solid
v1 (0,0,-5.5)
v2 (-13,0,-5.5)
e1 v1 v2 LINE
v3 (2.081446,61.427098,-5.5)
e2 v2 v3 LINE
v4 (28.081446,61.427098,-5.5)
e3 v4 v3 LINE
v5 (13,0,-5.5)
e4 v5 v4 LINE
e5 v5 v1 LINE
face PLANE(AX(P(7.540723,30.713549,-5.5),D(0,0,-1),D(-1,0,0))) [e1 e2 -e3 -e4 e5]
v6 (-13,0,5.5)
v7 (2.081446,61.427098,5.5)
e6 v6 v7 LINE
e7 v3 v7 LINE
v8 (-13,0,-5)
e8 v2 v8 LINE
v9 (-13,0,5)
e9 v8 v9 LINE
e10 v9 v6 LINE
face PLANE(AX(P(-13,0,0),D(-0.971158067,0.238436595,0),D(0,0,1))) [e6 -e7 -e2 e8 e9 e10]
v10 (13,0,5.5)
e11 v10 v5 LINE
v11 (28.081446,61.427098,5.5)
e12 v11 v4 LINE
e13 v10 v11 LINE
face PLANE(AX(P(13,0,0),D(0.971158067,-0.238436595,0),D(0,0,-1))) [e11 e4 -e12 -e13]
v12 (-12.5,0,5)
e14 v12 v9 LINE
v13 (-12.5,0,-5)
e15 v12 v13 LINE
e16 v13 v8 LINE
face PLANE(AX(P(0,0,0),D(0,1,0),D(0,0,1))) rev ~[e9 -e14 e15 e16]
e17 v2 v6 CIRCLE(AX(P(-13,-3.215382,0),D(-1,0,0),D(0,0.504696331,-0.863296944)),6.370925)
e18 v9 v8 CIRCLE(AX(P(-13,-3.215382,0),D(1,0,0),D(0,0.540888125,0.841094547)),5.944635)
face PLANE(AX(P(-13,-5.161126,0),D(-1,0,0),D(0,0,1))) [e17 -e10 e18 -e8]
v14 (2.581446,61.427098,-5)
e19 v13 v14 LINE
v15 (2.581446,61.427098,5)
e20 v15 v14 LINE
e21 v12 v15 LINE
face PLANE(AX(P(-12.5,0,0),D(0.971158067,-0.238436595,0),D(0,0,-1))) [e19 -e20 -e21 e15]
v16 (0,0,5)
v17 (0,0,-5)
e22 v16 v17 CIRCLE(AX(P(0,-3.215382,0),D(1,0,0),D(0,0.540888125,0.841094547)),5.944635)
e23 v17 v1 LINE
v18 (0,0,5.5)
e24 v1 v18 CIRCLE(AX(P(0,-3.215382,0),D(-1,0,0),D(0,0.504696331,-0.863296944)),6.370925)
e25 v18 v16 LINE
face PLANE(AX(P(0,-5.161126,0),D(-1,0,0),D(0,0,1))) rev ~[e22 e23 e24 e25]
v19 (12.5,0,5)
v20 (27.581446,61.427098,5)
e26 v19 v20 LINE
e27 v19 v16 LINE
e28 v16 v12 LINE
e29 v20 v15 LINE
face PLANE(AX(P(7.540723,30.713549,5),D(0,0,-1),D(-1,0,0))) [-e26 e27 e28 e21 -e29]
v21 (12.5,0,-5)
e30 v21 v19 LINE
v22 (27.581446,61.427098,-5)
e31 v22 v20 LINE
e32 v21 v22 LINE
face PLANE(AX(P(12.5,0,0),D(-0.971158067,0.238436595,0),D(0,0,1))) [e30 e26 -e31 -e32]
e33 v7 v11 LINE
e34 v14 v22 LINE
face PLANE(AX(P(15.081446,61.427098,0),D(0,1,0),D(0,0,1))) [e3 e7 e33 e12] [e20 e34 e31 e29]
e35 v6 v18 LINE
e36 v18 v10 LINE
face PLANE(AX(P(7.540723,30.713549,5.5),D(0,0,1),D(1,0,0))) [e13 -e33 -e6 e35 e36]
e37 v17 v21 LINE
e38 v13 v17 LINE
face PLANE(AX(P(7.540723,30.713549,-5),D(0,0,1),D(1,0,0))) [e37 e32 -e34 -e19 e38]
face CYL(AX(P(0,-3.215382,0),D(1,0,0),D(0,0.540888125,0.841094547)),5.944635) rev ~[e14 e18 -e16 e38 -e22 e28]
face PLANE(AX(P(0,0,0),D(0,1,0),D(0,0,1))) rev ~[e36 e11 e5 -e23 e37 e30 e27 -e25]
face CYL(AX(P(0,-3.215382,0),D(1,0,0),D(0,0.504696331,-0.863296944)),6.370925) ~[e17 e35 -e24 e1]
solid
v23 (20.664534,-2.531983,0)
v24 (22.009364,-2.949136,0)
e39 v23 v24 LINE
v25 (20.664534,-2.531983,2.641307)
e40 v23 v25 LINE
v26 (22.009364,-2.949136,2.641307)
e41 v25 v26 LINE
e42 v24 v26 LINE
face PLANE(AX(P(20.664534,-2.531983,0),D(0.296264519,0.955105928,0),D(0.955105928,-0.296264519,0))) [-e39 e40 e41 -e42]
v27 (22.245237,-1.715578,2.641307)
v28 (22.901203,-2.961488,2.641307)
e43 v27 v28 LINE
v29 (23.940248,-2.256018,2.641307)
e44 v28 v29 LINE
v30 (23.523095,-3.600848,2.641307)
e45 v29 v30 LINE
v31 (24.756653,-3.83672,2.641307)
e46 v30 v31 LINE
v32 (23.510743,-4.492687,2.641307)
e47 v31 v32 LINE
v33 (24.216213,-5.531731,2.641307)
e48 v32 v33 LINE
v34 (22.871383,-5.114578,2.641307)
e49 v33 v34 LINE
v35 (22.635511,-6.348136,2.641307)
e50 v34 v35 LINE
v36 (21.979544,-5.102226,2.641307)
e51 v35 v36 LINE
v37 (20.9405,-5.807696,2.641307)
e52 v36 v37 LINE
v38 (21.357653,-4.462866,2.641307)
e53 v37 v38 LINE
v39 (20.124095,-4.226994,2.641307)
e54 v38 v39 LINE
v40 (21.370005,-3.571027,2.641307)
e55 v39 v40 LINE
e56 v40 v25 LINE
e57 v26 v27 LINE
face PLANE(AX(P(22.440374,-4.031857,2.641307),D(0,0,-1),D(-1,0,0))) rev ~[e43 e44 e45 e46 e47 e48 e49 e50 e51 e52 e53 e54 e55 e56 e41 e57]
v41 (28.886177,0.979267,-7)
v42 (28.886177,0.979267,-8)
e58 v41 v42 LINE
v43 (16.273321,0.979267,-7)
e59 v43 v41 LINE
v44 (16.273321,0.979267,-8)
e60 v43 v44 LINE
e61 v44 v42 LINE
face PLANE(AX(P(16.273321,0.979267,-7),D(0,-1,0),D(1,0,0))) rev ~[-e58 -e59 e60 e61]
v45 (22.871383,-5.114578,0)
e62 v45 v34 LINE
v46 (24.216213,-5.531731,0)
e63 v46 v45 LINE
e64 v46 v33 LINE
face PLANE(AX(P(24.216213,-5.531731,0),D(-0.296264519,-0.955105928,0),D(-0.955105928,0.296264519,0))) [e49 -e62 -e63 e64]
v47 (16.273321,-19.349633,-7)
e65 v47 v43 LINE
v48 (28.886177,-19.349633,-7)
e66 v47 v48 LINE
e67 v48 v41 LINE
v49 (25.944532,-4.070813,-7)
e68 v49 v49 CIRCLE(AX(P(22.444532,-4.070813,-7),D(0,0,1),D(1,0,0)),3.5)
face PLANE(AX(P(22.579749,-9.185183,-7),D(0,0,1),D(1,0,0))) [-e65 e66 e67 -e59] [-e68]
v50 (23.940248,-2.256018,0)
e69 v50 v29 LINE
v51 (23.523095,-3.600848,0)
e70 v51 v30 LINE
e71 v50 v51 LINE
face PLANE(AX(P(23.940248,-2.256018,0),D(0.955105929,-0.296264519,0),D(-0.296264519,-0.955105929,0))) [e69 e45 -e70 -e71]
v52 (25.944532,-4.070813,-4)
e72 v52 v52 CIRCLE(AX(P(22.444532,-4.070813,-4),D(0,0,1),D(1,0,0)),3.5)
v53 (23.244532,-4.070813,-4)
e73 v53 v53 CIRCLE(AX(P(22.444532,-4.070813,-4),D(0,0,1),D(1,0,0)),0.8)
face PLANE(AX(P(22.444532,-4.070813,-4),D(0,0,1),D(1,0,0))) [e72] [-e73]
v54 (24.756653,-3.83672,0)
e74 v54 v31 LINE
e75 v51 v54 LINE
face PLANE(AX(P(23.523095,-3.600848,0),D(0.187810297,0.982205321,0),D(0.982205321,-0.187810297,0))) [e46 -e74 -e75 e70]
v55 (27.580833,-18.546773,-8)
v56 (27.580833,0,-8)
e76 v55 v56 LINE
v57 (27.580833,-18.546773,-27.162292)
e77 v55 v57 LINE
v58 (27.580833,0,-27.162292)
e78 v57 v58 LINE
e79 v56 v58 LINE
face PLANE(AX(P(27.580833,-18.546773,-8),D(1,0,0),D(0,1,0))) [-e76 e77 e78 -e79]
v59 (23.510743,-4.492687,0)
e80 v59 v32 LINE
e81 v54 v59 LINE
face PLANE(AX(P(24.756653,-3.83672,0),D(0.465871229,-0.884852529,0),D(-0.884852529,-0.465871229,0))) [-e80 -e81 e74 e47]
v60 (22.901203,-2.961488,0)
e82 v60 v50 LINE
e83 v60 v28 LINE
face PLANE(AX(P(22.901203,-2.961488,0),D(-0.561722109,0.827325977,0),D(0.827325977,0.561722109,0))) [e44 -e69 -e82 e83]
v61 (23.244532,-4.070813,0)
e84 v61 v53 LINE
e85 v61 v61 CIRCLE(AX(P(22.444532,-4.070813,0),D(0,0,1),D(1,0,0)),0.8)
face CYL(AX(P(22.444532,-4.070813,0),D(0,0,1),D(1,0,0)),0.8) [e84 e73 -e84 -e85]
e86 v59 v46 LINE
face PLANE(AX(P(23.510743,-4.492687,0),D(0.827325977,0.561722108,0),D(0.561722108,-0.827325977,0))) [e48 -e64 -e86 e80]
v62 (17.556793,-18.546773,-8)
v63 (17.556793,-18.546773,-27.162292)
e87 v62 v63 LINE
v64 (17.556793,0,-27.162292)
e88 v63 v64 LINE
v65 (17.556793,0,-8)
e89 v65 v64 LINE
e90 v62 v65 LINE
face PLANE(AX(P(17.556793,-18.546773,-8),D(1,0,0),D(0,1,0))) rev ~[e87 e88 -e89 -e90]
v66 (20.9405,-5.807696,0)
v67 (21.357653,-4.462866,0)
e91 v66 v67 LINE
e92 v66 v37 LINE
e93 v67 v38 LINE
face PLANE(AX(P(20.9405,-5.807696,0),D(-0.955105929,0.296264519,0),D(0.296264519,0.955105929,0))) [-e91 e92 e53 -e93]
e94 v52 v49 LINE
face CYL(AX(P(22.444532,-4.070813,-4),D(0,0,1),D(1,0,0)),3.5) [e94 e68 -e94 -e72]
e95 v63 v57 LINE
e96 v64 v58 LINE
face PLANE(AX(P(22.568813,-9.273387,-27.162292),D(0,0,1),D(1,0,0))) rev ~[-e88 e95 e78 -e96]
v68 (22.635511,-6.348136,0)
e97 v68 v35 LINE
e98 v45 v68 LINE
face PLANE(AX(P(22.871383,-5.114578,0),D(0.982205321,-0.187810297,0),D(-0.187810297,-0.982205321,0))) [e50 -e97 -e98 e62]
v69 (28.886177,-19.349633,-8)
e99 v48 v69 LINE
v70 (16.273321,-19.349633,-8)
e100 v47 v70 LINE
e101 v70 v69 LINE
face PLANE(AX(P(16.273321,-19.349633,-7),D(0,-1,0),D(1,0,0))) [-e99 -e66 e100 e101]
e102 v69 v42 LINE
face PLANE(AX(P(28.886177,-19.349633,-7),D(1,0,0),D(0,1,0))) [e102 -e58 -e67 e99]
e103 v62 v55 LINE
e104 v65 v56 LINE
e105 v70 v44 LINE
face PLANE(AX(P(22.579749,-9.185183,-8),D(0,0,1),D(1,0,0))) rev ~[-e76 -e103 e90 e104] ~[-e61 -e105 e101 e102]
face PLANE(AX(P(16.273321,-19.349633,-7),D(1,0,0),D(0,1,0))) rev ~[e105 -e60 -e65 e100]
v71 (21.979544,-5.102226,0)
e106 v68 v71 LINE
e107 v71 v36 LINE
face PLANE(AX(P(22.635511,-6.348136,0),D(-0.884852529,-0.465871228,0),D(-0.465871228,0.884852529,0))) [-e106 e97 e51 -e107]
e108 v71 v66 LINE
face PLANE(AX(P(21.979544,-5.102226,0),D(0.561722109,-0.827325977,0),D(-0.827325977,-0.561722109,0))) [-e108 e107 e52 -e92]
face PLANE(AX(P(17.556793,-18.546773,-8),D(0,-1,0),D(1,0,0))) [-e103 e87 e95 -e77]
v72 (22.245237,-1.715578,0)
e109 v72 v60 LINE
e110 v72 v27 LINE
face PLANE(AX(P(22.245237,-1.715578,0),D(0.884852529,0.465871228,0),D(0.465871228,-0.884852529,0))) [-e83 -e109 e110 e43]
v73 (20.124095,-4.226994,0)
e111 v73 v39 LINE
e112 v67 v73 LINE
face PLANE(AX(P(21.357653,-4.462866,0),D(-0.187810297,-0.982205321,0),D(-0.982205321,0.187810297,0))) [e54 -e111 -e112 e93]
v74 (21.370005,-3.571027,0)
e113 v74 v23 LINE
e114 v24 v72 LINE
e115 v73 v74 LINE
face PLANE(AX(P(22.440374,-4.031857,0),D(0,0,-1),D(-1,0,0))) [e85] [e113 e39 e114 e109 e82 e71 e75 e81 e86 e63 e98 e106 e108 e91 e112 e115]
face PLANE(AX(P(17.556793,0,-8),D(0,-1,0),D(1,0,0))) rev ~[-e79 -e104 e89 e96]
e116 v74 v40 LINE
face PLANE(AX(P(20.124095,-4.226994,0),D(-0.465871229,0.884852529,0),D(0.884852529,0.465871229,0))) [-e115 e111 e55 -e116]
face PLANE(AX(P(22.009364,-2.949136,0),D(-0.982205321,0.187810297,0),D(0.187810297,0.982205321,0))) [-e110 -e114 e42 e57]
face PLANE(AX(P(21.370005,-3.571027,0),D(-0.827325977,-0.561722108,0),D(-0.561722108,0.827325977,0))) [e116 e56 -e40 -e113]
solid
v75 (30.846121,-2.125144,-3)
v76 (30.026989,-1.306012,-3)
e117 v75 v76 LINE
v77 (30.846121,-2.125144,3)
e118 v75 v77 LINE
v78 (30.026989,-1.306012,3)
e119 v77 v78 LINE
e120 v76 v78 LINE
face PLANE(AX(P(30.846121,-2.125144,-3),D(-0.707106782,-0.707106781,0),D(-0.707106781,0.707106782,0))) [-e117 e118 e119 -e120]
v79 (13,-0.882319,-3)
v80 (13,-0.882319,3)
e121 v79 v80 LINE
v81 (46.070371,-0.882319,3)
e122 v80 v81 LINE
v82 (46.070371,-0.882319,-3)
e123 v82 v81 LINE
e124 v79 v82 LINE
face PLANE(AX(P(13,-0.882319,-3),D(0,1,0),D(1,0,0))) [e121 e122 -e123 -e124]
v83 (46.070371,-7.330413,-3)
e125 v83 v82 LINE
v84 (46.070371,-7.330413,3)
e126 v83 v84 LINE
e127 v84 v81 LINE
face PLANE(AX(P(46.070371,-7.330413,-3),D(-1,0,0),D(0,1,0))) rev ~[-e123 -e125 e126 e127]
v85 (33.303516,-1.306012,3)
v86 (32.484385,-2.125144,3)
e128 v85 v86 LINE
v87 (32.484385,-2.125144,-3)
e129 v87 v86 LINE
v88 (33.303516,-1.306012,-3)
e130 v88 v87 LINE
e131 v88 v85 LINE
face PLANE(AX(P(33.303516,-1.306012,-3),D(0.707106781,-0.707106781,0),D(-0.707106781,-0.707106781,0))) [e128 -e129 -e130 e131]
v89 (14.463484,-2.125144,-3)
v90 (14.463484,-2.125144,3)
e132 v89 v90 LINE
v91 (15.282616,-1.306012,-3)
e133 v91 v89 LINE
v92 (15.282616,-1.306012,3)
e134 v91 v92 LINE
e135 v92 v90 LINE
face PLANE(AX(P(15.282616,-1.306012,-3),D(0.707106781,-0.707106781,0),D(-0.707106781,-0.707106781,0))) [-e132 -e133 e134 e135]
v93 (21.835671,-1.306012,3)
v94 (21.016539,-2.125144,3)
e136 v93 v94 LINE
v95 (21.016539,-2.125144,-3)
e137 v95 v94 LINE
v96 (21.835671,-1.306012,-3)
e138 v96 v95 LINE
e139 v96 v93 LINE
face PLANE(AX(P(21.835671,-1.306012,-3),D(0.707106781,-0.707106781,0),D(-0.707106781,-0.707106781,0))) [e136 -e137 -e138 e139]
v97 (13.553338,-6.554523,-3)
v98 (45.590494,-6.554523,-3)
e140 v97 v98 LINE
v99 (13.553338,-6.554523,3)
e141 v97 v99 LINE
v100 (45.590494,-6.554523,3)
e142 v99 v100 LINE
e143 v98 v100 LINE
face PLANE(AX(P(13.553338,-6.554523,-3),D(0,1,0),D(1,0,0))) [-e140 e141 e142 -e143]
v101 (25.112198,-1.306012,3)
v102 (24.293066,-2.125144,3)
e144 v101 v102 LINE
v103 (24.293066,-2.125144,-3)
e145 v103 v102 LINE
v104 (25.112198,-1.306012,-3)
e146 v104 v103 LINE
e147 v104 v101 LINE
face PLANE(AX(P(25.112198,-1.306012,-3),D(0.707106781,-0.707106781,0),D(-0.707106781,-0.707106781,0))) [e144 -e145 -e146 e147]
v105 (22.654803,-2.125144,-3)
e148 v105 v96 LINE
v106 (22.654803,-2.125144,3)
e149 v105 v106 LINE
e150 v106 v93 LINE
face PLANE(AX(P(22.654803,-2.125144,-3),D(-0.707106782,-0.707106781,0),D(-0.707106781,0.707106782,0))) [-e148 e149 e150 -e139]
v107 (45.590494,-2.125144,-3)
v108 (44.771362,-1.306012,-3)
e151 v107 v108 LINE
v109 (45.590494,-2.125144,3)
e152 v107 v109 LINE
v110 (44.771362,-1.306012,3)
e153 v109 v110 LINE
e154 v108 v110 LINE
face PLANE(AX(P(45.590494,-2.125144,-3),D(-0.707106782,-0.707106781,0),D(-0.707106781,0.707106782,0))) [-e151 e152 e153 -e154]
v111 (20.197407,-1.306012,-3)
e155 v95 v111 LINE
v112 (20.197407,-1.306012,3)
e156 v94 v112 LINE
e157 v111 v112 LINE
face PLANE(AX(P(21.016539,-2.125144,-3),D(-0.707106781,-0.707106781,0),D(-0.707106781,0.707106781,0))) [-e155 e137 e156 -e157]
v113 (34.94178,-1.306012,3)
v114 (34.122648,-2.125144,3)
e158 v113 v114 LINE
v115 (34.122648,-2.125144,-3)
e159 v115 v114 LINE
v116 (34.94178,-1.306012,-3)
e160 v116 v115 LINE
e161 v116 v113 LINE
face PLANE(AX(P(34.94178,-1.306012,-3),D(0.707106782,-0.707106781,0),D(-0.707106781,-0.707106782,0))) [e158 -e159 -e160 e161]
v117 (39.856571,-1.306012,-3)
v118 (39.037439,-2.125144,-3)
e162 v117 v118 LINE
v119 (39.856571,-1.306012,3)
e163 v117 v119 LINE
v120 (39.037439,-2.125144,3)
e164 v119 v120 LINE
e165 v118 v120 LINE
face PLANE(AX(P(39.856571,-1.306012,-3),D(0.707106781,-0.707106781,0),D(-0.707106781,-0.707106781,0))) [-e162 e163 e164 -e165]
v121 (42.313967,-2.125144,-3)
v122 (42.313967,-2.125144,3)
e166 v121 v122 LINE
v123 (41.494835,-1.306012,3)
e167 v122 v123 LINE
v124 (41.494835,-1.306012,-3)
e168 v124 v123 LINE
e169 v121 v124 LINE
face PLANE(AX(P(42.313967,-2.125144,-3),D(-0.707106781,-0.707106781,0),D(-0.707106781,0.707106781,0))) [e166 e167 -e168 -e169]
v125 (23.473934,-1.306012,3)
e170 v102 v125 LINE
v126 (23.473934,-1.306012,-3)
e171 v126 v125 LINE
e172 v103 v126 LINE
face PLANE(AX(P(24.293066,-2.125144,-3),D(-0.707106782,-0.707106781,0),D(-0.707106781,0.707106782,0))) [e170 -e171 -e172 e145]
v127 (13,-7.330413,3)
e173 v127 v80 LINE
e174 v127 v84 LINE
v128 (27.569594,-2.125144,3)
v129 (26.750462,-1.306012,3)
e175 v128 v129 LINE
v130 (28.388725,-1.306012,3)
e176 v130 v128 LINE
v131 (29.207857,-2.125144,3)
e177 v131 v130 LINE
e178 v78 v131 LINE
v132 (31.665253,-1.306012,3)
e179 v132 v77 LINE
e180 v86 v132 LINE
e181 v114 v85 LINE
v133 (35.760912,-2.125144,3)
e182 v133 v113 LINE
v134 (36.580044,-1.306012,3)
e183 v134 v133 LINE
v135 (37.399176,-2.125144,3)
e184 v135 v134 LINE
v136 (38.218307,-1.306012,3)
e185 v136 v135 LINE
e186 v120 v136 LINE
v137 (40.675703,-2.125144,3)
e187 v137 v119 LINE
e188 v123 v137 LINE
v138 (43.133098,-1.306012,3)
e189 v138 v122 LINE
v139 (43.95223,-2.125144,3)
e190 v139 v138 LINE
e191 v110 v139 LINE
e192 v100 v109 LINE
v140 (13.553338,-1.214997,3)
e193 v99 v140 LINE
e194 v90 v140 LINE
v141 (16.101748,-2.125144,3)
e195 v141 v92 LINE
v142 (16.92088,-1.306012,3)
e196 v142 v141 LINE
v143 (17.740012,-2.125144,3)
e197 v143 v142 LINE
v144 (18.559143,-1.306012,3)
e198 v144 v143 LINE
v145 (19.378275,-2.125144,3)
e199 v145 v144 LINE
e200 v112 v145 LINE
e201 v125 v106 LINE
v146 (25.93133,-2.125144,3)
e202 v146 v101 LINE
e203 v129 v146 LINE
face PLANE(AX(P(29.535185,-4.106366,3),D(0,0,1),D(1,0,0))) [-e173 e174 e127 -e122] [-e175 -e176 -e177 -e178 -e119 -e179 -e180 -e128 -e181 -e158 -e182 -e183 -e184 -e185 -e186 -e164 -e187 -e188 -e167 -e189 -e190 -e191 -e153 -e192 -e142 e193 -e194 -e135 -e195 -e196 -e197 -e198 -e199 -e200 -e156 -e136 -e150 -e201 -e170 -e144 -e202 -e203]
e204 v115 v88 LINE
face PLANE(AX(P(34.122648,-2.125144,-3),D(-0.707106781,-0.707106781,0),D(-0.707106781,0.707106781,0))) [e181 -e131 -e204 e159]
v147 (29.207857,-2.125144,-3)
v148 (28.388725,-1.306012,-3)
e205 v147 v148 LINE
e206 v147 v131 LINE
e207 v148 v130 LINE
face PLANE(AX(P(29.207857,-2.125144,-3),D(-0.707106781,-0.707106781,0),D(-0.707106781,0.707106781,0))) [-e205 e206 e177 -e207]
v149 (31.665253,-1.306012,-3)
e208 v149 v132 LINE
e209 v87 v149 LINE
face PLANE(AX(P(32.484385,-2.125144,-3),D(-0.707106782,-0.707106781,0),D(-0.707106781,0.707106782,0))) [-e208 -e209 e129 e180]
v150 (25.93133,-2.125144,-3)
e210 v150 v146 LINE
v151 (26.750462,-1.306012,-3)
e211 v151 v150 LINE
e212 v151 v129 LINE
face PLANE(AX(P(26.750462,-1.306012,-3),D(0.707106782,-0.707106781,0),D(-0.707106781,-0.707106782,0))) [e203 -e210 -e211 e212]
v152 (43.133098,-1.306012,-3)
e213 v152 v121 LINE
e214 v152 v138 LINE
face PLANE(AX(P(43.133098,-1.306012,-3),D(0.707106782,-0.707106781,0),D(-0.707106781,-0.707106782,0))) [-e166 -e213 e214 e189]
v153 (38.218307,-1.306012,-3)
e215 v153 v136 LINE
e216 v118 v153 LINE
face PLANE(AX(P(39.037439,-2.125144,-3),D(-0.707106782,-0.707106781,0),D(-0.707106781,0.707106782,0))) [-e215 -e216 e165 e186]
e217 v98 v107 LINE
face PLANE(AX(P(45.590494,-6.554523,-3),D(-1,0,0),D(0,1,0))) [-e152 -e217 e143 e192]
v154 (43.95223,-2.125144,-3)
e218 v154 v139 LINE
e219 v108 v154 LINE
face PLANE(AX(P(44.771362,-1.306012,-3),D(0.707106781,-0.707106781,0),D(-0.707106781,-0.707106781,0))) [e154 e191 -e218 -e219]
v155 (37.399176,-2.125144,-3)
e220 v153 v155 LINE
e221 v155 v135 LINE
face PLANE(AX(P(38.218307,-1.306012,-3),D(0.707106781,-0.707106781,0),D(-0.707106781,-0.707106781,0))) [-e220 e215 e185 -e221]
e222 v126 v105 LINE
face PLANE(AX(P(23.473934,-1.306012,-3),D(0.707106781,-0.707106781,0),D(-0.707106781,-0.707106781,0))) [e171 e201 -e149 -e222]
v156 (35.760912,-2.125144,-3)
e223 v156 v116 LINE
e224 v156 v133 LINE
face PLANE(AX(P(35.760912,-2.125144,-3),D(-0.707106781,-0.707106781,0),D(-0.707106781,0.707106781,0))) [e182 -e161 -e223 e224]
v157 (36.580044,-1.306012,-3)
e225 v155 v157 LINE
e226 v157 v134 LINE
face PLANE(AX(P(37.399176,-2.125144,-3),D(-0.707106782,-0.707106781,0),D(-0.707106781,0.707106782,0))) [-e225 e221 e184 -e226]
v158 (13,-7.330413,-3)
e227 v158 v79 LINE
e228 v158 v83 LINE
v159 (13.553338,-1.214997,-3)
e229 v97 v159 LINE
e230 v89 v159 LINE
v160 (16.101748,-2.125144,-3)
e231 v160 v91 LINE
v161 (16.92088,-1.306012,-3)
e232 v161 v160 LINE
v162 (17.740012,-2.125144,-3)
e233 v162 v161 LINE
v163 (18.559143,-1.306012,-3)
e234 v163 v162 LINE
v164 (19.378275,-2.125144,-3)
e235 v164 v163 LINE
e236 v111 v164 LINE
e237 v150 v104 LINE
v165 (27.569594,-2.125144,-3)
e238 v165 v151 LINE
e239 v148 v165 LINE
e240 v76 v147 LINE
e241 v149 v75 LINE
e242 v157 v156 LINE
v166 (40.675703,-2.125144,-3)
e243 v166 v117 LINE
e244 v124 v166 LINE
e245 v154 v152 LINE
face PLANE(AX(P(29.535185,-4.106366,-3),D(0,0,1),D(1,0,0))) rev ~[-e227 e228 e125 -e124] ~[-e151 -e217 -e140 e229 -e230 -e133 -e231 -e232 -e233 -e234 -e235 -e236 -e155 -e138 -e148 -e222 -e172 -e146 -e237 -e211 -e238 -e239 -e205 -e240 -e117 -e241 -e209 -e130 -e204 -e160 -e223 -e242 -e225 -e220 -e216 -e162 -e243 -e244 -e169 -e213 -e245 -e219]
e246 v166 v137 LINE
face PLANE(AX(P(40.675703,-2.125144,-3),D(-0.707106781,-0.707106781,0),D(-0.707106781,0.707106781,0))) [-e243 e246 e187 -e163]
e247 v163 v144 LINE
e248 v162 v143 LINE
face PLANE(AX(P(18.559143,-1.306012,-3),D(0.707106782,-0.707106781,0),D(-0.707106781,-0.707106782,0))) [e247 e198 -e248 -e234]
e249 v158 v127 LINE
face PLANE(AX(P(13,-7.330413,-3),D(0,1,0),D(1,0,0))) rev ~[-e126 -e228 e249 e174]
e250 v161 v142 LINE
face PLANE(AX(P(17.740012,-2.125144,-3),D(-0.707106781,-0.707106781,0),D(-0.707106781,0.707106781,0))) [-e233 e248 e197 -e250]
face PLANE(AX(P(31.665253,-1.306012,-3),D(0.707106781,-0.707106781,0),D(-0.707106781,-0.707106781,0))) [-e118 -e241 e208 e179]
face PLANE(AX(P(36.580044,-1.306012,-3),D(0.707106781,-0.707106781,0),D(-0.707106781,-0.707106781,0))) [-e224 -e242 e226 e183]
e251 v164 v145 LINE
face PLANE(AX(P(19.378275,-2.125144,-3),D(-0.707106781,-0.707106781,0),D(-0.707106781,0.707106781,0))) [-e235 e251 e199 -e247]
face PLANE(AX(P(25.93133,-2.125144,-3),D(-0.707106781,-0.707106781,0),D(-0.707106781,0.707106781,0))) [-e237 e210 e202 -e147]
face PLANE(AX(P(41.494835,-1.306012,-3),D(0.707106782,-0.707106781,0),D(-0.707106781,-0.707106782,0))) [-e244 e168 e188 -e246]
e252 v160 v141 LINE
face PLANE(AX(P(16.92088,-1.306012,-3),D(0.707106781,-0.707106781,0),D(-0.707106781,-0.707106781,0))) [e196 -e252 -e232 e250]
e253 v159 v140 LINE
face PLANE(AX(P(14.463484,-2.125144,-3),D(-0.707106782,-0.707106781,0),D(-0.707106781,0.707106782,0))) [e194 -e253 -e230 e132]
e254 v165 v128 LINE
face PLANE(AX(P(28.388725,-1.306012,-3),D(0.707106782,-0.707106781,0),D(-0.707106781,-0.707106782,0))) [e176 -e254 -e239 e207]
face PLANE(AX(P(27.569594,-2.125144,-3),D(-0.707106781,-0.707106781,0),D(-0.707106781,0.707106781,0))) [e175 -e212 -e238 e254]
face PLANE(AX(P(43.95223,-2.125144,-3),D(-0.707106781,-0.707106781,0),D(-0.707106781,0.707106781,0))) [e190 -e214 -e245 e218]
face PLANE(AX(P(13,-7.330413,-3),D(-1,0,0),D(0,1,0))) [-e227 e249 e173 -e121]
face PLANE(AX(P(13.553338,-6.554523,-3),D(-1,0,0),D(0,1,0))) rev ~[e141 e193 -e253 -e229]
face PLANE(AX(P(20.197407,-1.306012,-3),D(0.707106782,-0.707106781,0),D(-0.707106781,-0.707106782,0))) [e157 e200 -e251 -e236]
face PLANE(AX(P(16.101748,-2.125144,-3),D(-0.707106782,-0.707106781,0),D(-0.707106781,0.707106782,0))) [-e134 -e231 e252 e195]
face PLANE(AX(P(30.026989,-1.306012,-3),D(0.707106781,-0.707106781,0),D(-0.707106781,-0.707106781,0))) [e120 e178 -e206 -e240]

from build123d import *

# Parameters (mm, degrees)
SKETCH_1_W           = 26
SKETCH_1_H           = 11
SKETCH_1_W_2         = 25
SKETCH_1_H_2         = 10
EXTRUDE_1_DEPTH      = 13
EXTRUDE_3_DEPTH      = 3
EXTRUDE_3_DEPTH_BACK = 3
SKETCH_6_W           = 33.070370948
SKETCH_6_H           = 6.448093374
EXTRUDE_11_DEPTH     = 2.641307104
SKETCH_9_R           = 0.8
EXTRUDE_12_DEPTH     = 4
EXTRUDE_START        = -4
SKETCH_10_R          = 3.5
EXTRUDE_13_DEPTH     = 3
EXTRUDE_START_2      = -7
SKETCH_11_W          = 12.612855994
SKETCH_11_H          = 20.328900567
EXTRUDE_14_DEPTH     = 1
EXTRUDE_START_3      = -8
SKETCH_12_W          = 10.024040608
SKETCH_12_H          = 18.546773162
EXTRUDE_15_DEPTH     = 19.16229195


with BuildPart() as part:
    # 扫描1: sweep along a path in 草图2
    with BuildLine(Plane.XY) as sweep_1_path:
        Line((0, 0), (15.081446117, 61.427097956))
    # 草图1 → 扫描1 (sweep)
    with BuildSketch(Plane(origin=(0, 0, 0), x_dir=(1, 0, 0), z_dir=(0, 1, 0))):
        Rectangle(SKETCH_1_W, SKETCH_1_H)
        Rectangle(SKETCH_1_W_2, SKETCH_1_H_2, mode=Mode.SUBTRACT)
    sweep(path=sweep_1_path.line)

    # 草图3 → 凸台-拉伸1 (add)
    with BuildSketch(Plane(origin=(0, 0, 0), x_dir=(0, 0, -1), z_dir=(1, 0, 0))):
        with BuildLine():
            Line((-5.5, 0), (-5, 0))
            ThreePointArc((-5, 0), (0, -9.160017332), (5, 0))
            Line((5, 0), (5.5, 0))
            ThreePointArc((5.5, 0), (0, -9.586307333), (-5.5, 0))
        make_face()
    extrude(amount=-EXTRUDE_1_DEPTH)


with BuildPart() as body_2:
    # 草图6 → 凸台-拉伸3 (new, two sides: drawn at the far end of the back side and taken through both)
    with BuildSketch(Plane.XY.offset(-EXTRUDE_3_DEPTH_BACK)):
        with Locations((29.535185474, -4.106366023)):
            Rectangle(SKETCH_6_W, SKETCH_6_H)
        Polygon((13.553337787, -2.125143793), (13.553337787, -6.554523321), (45.590493828, -6.554523321), (45.590493828, -2.125143793), (44.771361998, -1.306011962), (43.952230167, -2.125143793), (43.133098336, -1.306011962), (42.313966506, -2.125143793), (41.494834675, -1.306011962), (40.675702845, -2.125143793), (39.856571014, -1.306011962), (39.037439183, -2.125143793), (38.218307353, -1.306011962), (37.399175522, -2.125143793), (36.580043692, -1.306011962), (35.760911861, -2.125143793), (34.94178003, -1.306011962), (34.1226482, -2.125143793), (33.303516369, -1.306011962), (32.484384538, -2.125143793), (31.665252708, -1.306011962), (30.846120877, -2.125143793), (30.026989047, -1.306011962), (29.207857216, -2.125143793), (28.388725385, -1.306011962), (27.569593555, -2.125143793), (26.750461724, -1.306011962), (25.931329894, -2.125143793), (25.112198063, -1.306011962), (24.293066232, -2.125143793), (23.473934402, -1.306011962), (22.654802571, -2.125143793), (21.835670741, -1.306011962), (21.01653891, -2.125143793), (20.197407079, -1.306011962), (19.378275249, -2.125143793), (18.559143418, -1.306011962), (17.740011588, -2.125143793), (16.920879757, -1.306011962), (16.101747926, -2.125143793), (15.282616096, -1.306011962), (14.463484265, -2.125143793), (13.553337787, -1.214997314), align=None, mode=Mode.SUBTRACT)
    extrude(amount=EXTRUDE_3_DEPTH + EXTRUDE_3_DEPTH_BACK)


with BuildPart() as body_3:
    # 草图7 → 凸台-拉伸11 (new body)
    with BuildSketch(Plane.XY):
        Polygon((22.245236656, -1.715577878), (22.901203318, -2.961488175), (23.940247657, -2.256017546), (23.523094513, -3.600847641), (24.756652876, -3.836719874), (23.510742579, -4.492686537), (24.216213207, -5.531730876), (22.871383112, -5.114577731), (22.635510879, -6.348136094), (21.979544217, -5.102225797), (20.940499878, -5.807696426), (21.357653022, -4.462866331), (20.124094659, -4.226994098), (21.370004956, -3.571027435), (20.664534328, -2.531983096), (22.009364423, -2.949136241), align=None)
    extrude(amount=EXTRUDE_11_DEPTH)

    # 草图9 → 凸台-拉伸12 (add)
    with BuildSketch(Plane.XY):
        with Locations((22.444532426, -4.070813094)):
            Circle(SKETCH_9_R)
    extrude(amount=-EXTRUDE_12_DEPTH)

    # 草图10 → 凸台-拉伸13 (add)
    with BuildSketch(Plane.XY.offset(EXTRUDE_START)):
        with Locations((22.444532426, -4.070813094)):
            Circle(SKETCH_10_R)
    extrude(amount=-EXTRUDE_13_DEPTH)

    # 草图11 → 凸台-拉伸14 (add)
    with BuildSketch(Plane.XY.offset(EXTRUDE_START_2)):
        with Locations((22.579748606, -9.185183134)):
            Rectangle(SKETCH_11_W, SKETCH_11_H)
    extrude(amount=-EXTRUDE_14_DEPTH)

    # 草图12 → 凸台-拉伸15 (add)
    with BuildSketch(Plane.XY.offset(EXTRUDE_START_3)):
        with Locations((22.568813032, -9.273386581)):
            Rectangle(SKETCH_12_W, SKETCH_12_H)
    extrude(amount=-EXTRUDE_15_DEPTH)


solid = Compound([part.part, body_2.part, body_3.part])
